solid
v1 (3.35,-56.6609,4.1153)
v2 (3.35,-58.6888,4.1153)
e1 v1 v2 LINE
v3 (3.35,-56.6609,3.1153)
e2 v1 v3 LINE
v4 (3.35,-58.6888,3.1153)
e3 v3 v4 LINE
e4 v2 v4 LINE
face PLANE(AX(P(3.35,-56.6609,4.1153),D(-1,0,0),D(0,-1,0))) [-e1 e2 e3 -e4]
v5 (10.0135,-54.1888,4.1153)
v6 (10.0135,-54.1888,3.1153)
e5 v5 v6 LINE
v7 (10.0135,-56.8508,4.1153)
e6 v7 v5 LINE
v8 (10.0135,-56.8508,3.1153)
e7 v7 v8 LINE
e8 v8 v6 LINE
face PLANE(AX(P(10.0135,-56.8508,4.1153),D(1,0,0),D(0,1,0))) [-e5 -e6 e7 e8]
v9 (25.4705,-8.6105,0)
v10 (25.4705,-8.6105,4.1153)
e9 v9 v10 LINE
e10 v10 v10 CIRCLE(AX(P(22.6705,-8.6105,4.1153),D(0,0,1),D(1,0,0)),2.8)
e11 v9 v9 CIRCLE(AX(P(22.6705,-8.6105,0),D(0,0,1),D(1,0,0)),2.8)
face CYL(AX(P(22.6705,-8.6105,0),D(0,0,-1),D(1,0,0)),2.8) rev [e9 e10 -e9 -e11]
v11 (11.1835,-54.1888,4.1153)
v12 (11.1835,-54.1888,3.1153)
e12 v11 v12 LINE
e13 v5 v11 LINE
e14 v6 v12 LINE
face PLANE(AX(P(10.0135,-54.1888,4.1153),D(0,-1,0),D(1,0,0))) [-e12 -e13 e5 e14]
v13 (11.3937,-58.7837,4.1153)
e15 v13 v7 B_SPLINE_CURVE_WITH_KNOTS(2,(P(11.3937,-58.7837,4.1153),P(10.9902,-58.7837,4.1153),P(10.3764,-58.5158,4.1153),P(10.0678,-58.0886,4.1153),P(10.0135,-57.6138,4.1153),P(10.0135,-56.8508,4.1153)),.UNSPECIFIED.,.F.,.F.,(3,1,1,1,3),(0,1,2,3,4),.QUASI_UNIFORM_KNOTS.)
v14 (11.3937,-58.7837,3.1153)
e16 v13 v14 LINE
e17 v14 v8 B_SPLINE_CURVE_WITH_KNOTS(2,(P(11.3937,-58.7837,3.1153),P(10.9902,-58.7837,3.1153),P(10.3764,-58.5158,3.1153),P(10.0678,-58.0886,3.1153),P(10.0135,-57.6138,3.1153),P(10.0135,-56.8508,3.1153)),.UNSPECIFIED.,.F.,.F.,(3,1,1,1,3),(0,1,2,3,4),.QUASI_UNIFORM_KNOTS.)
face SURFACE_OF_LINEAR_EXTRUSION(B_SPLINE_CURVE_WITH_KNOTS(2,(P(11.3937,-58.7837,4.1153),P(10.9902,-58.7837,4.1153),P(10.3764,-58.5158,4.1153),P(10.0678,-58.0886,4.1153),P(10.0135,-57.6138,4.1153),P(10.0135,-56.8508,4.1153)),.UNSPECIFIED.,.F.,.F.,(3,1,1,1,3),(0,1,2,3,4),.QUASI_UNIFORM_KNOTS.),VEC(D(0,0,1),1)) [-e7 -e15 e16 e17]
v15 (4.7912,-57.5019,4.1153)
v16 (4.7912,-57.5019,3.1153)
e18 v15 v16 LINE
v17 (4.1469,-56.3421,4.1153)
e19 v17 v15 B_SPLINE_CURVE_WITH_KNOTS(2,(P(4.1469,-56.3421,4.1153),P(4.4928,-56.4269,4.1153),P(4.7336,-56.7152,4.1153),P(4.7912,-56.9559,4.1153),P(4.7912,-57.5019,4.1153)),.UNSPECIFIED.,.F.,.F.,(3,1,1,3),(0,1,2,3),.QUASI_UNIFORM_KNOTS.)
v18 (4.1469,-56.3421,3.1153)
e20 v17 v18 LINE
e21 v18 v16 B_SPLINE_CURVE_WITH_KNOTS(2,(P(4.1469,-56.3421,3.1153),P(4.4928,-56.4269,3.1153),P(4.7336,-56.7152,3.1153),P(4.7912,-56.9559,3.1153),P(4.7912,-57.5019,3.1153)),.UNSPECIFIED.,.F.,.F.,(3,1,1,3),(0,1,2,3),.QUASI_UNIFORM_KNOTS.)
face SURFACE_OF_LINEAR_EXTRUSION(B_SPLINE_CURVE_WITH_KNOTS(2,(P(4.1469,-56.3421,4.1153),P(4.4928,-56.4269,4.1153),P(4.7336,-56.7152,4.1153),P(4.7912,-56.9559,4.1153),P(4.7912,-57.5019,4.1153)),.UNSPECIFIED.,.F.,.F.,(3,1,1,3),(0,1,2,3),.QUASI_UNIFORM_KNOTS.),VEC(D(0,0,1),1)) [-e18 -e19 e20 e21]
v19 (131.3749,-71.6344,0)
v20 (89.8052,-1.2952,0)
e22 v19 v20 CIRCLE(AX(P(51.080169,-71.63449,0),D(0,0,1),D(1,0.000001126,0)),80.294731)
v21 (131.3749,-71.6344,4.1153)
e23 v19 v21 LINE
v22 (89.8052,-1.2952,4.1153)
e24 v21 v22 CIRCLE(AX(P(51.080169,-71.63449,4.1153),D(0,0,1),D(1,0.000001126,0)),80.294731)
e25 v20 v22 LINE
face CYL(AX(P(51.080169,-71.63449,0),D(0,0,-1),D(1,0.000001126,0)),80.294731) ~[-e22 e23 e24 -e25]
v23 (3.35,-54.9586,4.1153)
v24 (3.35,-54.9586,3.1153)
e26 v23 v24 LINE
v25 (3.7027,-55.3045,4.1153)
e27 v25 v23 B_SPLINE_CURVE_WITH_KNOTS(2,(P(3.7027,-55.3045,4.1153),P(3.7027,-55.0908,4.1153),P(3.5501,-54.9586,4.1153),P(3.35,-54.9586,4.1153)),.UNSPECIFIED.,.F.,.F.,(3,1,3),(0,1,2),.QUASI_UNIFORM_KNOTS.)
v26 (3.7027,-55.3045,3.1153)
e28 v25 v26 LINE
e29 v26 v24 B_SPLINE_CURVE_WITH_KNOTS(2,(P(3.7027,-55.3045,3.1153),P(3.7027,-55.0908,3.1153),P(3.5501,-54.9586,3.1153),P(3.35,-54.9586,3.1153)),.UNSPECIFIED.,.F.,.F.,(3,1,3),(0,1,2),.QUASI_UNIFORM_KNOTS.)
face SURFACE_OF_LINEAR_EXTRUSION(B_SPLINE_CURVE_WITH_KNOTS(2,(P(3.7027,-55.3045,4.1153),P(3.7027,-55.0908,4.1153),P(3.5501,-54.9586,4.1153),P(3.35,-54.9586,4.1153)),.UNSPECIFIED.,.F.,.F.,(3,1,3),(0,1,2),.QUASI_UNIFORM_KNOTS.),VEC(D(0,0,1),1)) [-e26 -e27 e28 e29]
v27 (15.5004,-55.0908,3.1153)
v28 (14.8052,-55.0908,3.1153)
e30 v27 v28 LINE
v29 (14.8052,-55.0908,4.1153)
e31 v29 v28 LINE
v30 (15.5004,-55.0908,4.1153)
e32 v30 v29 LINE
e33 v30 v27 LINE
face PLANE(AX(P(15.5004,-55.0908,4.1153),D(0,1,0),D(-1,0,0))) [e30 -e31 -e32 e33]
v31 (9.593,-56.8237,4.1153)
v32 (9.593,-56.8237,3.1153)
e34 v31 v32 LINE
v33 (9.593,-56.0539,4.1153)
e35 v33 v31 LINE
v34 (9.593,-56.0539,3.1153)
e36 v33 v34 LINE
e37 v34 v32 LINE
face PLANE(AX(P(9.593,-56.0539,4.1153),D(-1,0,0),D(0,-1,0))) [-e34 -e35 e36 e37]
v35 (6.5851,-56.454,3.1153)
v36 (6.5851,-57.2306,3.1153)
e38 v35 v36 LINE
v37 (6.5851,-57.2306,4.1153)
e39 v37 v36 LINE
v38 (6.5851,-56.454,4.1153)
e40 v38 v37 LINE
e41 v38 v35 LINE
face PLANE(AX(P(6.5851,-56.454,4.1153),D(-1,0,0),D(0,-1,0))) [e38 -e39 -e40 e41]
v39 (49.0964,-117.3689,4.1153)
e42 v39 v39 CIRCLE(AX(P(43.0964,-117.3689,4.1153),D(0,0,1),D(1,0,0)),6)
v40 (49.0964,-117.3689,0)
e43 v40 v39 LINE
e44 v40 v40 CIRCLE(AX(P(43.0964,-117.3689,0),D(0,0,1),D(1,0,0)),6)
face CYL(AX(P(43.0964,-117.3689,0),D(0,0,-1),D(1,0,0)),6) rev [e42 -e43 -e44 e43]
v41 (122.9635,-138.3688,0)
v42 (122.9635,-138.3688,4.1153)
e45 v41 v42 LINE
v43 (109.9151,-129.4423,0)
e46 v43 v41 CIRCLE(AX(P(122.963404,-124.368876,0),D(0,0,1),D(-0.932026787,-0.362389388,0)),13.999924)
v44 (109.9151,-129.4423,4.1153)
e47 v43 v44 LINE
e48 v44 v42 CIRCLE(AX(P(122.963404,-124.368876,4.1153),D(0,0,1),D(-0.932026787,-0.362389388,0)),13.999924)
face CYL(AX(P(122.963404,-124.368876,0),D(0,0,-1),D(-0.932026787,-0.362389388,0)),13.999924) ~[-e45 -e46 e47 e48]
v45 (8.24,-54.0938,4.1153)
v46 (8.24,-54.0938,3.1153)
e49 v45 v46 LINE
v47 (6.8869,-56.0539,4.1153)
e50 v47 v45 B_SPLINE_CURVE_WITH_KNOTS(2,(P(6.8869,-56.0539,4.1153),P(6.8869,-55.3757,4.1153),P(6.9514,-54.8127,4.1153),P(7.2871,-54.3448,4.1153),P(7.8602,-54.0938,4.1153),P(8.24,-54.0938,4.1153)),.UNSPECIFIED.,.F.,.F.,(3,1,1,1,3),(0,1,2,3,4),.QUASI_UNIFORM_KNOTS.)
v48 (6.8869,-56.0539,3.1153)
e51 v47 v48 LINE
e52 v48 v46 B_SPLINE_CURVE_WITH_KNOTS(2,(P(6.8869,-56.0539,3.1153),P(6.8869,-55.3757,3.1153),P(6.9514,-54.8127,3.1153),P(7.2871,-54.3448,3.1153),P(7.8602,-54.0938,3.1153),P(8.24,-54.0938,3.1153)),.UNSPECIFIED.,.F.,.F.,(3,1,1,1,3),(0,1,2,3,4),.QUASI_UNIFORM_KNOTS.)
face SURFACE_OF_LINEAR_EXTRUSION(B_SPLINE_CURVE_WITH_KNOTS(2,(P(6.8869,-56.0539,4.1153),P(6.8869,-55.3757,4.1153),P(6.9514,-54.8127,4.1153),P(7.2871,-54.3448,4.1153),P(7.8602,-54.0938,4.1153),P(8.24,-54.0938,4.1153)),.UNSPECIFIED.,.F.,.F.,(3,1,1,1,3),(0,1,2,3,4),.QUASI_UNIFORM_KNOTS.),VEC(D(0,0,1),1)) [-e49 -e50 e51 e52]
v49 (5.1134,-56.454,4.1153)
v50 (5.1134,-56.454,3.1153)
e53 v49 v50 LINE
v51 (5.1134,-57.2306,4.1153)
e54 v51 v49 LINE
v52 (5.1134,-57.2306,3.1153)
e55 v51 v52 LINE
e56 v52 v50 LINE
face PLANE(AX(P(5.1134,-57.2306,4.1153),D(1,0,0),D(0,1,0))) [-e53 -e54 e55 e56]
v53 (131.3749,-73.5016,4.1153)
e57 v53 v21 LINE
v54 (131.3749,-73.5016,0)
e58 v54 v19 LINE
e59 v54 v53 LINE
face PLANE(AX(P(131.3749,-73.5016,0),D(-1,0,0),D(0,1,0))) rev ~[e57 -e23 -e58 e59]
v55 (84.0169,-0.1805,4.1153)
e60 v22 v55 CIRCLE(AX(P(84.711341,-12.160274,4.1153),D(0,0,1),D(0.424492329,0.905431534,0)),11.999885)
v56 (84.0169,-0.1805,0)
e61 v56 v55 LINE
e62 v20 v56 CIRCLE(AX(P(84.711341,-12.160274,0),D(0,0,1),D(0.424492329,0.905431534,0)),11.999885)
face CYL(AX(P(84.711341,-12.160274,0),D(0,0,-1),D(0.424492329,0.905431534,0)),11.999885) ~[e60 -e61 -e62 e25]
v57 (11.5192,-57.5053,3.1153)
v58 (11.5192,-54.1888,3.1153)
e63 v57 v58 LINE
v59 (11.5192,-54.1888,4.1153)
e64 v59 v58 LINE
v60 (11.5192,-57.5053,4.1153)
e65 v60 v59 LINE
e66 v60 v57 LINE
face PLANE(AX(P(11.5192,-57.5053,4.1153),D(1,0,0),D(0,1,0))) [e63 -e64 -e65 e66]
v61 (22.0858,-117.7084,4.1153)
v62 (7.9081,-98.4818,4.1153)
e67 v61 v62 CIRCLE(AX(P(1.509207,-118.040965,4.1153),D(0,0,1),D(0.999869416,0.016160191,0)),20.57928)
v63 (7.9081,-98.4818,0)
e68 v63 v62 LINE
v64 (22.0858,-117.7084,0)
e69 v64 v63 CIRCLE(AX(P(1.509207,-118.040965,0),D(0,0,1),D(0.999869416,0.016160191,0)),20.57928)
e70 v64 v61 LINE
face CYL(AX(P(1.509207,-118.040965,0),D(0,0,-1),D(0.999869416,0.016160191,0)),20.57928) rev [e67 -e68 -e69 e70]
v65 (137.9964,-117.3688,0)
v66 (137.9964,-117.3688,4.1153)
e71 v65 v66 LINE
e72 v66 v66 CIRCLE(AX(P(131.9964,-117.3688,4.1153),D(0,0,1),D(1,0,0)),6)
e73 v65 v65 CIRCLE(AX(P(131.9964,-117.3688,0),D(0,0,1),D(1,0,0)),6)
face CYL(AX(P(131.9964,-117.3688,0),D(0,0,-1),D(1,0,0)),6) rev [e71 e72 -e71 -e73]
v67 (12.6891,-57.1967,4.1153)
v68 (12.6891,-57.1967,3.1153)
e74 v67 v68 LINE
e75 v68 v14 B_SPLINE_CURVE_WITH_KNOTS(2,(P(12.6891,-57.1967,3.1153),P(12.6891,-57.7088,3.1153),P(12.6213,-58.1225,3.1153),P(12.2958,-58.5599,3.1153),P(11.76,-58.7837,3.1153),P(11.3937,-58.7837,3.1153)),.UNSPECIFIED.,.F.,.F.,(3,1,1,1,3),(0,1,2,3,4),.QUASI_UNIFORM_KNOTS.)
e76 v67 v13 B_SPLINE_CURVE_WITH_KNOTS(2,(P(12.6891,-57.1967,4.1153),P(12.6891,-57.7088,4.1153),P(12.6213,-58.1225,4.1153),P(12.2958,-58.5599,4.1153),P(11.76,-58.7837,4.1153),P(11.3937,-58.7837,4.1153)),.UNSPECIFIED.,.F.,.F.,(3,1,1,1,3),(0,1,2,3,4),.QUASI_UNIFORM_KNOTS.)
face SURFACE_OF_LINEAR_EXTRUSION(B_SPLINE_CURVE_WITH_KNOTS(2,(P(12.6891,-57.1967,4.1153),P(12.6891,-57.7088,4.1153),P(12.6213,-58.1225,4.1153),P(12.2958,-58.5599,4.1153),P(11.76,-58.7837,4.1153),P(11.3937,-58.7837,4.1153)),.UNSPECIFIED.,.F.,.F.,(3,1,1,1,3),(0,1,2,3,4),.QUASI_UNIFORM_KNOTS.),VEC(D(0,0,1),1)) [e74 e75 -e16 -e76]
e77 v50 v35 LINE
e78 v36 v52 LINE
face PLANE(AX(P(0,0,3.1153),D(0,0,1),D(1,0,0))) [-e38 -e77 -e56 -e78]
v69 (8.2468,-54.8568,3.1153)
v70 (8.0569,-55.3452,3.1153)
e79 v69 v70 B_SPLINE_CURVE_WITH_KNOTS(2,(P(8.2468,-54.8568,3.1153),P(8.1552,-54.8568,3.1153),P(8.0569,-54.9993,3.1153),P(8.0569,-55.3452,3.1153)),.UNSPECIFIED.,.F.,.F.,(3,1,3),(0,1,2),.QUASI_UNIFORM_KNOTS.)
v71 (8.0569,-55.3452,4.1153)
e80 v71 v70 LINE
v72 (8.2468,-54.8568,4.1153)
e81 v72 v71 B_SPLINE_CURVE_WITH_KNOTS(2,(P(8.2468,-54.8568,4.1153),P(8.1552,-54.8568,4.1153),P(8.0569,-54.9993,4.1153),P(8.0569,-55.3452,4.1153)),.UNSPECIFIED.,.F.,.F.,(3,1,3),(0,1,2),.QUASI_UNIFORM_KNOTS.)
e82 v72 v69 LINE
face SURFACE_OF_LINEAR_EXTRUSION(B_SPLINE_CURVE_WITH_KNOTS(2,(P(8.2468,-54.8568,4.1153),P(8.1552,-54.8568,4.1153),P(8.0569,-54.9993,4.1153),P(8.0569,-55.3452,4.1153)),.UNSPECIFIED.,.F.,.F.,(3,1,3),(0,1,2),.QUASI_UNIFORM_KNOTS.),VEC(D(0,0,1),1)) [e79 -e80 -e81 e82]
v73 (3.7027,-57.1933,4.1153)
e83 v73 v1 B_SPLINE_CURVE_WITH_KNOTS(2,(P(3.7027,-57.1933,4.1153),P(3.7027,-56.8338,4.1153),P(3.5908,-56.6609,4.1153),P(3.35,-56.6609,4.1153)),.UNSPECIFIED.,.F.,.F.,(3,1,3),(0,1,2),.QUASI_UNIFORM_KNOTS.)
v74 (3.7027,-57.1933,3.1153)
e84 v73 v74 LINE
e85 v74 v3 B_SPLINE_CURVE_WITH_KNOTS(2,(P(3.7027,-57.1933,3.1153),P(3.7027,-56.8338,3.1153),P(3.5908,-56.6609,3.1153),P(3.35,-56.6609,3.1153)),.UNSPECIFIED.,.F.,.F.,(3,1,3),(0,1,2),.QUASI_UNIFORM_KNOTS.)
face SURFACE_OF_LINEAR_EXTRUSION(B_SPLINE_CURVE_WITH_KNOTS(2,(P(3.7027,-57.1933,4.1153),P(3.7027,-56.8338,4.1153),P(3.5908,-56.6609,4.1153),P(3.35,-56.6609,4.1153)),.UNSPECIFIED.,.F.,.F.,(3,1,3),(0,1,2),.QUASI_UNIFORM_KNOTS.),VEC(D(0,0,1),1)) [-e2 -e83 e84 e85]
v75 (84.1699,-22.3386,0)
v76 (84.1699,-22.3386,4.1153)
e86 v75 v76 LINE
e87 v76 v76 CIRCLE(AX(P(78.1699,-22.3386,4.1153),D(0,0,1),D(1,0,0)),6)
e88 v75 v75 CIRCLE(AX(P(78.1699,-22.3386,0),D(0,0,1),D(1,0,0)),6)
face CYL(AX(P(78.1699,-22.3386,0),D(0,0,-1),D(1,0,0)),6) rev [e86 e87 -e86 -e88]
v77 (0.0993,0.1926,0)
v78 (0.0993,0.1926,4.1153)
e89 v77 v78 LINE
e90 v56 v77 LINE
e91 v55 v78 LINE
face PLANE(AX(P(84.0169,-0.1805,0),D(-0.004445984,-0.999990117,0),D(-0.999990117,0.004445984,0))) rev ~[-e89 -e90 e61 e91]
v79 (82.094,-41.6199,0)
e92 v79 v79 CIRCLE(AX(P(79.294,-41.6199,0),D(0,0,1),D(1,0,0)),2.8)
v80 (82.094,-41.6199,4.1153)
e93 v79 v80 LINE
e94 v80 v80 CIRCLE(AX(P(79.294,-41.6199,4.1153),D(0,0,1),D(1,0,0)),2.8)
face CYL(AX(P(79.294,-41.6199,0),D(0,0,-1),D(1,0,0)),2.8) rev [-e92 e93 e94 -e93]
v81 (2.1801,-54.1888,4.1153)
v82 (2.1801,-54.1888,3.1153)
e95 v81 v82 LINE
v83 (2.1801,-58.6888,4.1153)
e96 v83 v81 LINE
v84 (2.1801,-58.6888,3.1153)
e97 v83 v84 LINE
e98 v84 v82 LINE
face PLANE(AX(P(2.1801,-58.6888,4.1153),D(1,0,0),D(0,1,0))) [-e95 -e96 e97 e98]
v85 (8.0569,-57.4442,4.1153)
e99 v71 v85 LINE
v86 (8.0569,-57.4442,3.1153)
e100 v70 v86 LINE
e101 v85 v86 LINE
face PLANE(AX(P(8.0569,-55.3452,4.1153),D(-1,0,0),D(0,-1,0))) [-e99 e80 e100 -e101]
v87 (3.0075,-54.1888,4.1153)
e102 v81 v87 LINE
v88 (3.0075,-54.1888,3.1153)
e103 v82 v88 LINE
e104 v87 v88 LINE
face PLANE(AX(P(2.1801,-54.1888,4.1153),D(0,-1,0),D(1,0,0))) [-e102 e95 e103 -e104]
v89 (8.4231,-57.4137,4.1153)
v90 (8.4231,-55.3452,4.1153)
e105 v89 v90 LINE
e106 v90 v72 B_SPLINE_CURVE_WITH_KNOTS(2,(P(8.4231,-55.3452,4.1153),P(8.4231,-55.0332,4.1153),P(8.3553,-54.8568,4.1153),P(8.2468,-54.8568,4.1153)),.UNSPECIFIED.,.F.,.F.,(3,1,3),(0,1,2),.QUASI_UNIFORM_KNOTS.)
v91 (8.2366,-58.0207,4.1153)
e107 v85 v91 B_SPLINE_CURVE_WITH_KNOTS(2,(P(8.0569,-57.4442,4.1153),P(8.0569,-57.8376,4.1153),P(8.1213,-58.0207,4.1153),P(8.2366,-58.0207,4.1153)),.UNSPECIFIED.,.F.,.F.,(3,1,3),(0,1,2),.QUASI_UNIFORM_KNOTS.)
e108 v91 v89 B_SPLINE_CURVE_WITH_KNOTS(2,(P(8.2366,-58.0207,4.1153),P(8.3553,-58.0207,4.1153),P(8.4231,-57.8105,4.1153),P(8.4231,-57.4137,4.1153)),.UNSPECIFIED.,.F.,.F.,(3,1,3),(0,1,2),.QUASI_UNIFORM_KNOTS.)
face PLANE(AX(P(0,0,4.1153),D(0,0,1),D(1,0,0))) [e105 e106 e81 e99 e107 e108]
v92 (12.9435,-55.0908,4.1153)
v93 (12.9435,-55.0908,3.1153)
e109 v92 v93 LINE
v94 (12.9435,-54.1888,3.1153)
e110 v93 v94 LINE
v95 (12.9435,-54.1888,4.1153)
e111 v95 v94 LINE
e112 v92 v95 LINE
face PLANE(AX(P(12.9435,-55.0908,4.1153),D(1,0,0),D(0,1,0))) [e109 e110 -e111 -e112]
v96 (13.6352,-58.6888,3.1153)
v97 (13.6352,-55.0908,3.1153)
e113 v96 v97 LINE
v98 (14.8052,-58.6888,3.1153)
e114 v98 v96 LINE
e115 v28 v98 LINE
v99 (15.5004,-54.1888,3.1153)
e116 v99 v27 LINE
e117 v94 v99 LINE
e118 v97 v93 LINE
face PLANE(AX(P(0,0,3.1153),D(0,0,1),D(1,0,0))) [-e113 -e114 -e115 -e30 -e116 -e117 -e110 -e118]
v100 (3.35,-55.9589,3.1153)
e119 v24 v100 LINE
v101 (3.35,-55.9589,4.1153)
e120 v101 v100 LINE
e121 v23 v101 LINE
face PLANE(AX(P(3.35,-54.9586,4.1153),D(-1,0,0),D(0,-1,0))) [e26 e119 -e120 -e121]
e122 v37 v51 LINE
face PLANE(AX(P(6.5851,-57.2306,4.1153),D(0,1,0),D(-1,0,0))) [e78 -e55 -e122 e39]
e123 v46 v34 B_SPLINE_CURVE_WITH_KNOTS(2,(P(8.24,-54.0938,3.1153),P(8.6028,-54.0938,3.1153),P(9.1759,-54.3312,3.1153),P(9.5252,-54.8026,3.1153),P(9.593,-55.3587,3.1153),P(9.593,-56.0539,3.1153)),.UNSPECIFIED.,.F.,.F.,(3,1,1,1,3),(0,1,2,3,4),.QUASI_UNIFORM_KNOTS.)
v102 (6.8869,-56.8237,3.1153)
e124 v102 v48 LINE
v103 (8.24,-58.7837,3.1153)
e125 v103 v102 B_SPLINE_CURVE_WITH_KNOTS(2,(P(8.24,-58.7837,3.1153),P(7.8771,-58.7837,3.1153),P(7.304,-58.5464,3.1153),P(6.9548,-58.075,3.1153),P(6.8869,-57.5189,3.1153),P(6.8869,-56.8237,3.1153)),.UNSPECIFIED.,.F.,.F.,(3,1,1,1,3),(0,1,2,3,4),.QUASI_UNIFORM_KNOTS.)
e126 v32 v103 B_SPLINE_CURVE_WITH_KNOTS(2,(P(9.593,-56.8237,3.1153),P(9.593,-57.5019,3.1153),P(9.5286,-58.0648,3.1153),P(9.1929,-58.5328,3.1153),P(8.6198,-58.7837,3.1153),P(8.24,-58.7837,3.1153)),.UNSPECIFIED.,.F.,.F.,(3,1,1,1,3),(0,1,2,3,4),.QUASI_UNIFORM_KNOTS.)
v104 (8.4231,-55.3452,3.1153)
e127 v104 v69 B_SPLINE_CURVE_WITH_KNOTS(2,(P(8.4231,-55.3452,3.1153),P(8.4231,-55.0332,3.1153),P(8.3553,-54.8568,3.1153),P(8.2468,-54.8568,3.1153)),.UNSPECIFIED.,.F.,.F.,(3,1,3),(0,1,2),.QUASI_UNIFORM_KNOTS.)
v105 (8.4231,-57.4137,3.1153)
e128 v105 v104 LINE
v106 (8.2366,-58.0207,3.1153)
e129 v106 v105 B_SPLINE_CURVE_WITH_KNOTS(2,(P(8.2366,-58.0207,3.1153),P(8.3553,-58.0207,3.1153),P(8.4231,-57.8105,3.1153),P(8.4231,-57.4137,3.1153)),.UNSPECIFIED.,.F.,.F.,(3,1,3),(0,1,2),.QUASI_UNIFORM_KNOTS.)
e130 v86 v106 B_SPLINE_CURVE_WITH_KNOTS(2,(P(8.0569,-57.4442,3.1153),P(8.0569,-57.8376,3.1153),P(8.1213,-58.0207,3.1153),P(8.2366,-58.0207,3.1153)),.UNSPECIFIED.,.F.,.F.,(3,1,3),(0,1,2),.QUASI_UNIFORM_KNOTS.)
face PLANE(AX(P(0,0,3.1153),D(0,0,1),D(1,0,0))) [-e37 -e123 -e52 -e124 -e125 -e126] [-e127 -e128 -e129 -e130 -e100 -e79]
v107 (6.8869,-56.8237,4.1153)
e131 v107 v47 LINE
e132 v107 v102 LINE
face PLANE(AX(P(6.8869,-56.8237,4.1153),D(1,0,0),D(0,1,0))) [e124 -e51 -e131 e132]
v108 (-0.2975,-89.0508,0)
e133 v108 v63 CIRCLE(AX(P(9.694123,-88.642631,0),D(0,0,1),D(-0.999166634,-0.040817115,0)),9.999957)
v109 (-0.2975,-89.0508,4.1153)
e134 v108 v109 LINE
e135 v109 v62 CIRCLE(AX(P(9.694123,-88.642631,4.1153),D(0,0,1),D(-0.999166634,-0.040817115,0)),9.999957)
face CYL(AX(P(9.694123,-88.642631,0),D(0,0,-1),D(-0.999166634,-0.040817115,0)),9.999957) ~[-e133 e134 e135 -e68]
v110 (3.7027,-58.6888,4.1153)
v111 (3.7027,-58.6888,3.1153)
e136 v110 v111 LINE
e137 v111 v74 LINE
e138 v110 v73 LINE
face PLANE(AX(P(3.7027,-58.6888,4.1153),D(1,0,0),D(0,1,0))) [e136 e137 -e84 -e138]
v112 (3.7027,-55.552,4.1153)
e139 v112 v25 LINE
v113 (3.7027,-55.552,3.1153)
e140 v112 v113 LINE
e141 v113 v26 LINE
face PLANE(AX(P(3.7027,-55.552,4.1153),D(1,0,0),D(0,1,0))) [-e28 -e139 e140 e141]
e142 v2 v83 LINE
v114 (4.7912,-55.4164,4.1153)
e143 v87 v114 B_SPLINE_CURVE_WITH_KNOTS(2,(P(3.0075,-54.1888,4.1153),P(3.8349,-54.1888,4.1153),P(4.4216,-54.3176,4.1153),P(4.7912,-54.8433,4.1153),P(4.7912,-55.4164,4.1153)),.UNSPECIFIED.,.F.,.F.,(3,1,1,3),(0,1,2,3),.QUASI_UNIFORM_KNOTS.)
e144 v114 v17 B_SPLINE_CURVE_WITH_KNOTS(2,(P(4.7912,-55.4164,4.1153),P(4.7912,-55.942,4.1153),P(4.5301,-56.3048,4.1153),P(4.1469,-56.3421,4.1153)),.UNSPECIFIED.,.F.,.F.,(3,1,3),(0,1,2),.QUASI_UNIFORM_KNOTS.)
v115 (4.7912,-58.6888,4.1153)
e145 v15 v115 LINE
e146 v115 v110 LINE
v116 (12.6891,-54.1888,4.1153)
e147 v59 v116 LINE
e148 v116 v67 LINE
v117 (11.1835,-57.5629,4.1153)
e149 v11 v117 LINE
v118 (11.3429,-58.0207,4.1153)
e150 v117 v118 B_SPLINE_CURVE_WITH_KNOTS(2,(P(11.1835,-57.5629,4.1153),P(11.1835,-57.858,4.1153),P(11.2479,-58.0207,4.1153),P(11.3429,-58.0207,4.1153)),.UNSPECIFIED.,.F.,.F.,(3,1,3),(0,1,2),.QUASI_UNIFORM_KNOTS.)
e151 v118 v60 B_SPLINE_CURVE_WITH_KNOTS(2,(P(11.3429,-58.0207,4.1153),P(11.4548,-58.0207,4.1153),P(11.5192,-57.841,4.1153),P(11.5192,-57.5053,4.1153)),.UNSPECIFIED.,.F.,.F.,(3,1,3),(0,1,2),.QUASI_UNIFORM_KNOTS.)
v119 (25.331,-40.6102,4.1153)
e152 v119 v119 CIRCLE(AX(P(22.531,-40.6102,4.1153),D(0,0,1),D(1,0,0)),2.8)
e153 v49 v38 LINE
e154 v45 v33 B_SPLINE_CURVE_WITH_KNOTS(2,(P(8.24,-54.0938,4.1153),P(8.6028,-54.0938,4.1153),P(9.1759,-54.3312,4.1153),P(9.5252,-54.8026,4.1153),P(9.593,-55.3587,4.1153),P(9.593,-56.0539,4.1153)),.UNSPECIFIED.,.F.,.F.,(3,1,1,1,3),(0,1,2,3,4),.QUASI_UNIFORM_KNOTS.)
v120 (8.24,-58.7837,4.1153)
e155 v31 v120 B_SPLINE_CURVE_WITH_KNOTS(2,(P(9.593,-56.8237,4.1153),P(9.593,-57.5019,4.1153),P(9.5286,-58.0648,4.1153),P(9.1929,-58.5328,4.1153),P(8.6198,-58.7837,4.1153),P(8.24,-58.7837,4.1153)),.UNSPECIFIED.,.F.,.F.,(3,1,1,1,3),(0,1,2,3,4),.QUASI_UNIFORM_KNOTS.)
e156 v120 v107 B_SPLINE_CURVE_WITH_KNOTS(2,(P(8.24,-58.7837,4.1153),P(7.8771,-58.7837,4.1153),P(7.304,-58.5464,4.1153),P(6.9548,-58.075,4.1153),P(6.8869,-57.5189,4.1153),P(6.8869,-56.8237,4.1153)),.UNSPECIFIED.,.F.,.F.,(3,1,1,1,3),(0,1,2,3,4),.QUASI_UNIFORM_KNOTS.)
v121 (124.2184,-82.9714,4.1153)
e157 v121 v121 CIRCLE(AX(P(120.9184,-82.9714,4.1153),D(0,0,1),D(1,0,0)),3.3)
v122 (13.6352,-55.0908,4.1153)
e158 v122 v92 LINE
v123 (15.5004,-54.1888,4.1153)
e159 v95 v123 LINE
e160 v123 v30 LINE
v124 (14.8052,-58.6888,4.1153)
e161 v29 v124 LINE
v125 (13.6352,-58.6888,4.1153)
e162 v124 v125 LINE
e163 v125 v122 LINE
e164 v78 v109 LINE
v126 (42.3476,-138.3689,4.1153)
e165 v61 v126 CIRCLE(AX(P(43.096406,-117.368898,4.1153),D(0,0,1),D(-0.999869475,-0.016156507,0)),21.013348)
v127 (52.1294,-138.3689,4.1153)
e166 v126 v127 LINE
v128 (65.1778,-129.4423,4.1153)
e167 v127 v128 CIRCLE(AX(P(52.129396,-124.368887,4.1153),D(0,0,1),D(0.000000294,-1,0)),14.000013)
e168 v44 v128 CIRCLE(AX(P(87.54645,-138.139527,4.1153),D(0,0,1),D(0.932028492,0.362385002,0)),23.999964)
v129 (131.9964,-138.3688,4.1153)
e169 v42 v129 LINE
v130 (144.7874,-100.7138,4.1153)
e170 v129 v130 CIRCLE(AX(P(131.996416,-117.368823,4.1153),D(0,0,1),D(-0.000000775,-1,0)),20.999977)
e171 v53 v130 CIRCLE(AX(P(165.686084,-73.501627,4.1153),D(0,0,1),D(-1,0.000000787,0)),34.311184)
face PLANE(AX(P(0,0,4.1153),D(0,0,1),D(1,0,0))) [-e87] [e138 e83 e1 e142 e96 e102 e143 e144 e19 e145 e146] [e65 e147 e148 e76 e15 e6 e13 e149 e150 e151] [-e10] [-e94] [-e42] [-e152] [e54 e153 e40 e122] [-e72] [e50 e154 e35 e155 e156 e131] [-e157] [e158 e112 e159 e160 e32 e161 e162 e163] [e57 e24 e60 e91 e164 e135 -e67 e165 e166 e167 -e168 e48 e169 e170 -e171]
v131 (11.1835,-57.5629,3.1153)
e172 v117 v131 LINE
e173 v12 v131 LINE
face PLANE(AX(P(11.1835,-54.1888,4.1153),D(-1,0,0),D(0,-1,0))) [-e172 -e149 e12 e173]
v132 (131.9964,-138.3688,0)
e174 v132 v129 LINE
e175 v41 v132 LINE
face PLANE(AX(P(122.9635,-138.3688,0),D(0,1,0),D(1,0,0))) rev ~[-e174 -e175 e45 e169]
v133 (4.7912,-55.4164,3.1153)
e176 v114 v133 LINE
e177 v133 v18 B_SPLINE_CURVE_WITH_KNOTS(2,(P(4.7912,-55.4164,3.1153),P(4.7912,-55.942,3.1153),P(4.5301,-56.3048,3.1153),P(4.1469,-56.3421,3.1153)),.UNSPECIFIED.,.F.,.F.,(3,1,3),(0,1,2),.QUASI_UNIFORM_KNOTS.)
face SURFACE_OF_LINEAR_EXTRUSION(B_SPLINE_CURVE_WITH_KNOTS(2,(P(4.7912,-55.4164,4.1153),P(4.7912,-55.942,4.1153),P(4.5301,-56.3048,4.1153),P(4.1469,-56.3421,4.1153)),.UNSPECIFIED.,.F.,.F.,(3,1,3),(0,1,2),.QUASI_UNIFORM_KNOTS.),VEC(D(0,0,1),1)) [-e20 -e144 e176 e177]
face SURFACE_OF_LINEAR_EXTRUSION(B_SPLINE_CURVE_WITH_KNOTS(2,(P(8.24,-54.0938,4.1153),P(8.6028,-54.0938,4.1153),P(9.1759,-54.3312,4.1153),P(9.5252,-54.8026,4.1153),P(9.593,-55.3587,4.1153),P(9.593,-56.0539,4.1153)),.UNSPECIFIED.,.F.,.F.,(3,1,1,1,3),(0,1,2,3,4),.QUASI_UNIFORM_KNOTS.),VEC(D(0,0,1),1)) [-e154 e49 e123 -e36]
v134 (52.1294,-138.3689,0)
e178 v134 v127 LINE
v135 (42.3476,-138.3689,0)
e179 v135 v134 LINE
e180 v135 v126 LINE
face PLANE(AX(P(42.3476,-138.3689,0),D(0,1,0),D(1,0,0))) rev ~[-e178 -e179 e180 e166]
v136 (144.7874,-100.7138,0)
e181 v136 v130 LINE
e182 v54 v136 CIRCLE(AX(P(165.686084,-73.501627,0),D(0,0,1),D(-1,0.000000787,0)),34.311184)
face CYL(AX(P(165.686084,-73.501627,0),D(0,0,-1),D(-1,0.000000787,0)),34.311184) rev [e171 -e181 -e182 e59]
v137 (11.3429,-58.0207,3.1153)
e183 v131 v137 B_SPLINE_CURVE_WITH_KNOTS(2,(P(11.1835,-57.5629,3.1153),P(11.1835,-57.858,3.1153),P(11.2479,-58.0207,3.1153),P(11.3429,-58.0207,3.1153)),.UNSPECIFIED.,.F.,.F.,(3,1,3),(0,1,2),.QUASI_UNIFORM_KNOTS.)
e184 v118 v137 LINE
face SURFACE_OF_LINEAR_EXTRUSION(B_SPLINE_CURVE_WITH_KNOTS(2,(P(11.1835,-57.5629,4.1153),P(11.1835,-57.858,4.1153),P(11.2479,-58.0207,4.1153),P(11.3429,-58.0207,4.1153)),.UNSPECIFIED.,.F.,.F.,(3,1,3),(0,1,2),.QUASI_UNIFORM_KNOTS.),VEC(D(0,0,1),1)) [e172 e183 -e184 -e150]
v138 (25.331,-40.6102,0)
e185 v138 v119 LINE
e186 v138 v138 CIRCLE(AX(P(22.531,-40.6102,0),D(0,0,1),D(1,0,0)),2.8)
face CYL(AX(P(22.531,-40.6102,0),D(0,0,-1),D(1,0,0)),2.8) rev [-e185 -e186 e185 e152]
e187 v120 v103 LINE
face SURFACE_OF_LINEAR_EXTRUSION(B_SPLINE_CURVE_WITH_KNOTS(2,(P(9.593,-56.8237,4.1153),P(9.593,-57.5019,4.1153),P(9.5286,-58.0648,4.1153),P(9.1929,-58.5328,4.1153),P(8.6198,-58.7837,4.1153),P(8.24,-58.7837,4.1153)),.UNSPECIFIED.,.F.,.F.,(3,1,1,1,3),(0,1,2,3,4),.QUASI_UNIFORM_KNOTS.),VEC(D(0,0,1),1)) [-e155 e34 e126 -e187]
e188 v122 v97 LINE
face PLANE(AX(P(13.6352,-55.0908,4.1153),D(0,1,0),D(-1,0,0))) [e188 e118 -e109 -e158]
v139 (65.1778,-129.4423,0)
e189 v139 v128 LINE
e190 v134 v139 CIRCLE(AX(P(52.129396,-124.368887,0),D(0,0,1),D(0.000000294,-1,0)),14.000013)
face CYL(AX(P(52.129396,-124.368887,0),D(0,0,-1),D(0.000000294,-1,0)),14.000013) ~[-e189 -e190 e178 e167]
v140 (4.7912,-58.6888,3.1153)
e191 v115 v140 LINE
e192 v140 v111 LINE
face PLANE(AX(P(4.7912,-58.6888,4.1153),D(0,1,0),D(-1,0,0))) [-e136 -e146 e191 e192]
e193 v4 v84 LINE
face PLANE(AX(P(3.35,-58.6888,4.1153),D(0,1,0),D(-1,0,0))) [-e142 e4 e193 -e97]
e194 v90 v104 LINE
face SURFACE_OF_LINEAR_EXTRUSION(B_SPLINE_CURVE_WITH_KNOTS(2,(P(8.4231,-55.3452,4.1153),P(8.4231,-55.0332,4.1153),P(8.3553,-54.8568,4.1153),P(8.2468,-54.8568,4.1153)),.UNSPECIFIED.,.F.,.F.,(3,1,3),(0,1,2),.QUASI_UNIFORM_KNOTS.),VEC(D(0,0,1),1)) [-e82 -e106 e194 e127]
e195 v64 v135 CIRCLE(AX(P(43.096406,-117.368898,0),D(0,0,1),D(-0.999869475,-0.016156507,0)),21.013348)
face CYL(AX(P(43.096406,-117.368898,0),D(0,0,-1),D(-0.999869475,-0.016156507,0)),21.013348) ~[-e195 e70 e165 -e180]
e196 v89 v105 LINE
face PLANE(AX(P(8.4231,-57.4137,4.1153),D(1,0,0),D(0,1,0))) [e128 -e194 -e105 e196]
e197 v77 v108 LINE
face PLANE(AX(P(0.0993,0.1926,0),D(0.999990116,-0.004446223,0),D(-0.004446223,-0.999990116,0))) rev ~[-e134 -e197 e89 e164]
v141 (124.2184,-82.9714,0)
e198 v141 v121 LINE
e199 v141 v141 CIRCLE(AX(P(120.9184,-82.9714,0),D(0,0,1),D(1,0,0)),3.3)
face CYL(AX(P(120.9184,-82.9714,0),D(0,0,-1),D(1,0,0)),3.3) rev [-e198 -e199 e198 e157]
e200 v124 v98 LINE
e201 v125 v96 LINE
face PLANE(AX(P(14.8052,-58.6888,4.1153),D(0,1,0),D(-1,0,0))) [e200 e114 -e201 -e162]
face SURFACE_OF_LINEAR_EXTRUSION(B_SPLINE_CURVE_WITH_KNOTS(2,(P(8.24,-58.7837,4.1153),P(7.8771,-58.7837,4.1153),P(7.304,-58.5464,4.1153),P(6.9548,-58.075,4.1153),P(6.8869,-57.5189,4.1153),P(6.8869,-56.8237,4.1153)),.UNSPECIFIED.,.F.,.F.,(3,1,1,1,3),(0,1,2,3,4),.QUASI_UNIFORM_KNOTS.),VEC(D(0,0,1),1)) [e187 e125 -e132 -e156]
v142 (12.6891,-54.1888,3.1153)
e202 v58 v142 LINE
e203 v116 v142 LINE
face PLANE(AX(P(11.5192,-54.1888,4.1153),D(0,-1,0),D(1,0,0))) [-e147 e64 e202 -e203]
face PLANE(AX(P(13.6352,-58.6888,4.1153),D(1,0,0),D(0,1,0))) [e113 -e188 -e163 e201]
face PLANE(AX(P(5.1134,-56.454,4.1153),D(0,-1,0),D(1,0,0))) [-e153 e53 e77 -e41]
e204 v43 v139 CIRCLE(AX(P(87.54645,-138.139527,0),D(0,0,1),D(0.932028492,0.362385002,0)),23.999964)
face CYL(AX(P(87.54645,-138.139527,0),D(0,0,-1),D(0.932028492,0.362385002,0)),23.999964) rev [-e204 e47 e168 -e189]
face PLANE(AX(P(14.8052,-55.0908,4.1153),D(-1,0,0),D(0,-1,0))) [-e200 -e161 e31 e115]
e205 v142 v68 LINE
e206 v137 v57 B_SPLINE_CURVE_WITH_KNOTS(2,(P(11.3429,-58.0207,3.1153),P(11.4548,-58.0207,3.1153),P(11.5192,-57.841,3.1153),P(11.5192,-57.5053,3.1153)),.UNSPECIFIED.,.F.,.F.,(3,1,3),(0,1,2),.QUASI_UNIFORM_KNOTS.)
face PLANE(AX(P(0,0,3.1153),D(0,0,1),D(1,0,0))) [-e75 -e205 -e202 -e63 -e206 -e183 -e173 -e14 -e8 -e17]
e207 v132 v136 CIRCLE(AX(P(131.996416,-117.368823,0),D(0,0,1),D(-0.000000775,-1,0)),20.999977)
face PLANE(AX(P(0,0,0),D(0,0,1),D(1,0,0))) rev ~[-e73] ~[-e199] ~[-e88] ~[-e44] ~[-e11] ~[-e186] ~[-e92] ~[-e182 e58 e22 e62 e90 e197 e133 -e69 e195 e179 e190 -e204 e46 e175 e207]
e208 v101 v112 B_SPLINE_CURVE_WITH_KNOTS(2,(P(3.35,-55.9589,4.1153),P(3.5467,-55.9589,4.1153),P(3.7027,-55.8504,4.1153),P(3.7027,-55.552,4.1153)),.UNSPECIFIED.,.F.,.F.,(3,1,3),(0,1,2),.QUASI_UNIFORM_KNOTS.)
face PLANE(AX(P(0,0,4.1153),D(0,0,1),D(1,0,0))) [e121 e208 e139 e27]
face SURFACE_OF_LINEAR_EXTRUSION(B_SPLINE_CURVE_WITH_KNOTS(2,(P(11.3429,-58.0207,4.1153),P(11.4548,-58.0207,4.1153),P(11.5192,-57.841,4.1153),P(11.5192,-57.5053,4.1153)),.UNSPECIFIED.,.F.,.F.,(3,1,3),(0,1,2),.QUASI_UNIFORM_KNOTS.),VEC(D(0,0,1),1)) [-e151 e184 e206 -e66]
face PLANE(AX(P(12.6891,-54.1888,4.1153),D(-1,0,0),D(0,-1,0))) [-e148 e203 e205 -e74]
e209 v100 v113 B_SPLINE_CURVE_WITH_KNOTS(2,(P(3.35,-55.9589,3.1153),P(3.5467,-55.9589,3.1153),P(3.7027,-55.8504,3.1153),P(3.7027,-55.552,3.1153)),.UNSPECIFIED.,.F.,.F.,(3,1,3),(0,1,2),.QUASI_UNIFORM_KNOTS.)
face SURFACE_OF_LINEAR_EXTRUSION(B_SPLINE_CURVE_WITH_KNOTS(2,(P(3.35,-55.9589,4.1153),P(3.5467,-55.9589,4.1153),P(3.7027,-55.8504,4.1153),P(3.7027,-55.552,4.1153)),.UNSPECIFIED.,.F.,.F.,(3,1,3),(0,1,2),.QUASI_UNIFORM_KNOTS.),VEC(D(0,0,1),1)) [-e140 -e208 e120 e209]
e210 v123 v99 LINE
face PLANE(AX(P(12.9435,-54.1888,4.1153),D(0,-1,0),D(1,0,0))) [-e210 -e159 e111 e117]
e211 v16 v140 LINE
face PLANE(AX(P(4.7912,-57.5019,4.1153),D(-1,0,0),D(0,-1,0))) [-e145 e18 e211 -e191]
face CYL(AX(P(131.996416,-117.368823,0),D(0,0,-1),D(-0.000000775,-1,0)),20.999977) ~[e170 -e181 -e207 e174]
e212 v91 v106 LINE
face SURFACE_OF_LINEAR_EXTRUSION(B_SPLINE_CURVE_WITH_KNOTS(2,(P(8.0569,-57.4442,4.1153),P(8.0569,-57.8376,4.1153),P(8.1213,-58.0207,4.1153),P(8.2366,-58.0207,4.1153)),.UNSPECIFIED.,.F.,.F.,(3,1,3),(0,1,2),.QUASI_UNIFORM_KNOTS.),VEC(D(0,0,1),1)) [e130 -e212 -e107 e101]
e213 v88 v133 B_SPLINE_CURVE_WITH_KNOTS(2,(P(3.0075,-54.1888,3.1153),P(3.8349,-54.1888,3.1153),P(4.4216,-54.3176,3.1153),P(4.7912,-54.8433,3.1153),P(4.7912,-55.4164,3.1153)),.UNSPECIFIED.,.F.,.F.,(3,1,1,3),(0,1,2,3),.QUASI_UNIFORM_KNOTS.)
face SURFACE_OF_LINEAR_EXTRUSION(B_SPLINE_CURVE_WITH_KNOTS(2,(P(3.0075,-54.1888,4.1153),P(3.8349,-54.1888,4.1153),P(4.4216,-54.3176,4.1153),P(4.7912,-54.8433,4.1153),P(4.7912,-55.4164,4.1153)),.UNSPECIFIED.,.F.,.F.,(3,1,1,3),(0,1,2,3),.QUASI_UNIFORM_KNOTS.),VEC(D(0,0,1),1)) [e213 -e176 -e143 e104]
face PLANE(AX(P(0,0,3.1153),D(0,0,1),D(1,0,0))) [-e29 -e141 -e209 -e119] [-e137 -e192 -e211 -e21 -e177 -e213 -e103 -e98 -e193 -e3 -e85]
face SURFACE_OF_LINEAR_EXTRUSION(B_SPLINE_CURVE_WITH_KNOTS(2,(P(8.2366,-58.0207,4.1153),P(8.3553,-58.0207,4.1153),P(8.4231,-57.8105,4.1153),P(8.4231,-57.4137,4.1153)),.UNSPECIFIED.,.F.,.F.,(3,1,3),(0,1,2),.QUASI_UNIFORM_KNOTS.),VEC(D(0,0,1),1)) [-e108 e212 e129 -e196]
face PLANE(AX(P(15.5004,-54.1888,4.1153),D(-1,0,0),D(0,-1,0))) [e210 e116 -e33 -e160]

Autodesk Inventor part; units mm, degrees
ref_plane "YZ Plane" through (0, 0, 0) normal (1, 0, 0) x (0, 1, 0)
ref_plane "XZ Plane" through (0, 0, 0) normal (0, 1, 0) x (-1, 0, 0)
ref_plane "XY Plane" through (0, 0, 0) normal (0, 0, 1) x (1, 0, 0)
sketch "Sketch1" plane through (0, 0, 0) normal (0, 0, 1) x (1, 0, 0)
  line L0 (131.3749, -73.5016) -> (131.3749, -71.6344)
  arc A0 (131.3749, -71.6344) -> (89.8052, -1.2952) centre (51.0805, -71.6344) ccw
  arc A1 (89.8052, -1.2952) -> (84.0169, -0.1805) centre (84.7113, -12.1604) ccw
  line L1 (84.0169, -0.1805) -> (0.0993, 0.1926)
  line L2 (0.0993, 0.1926) -> (-0.2975, -89.0508)
  arc A2 (-0.2975, -89.0508) -> (7.9081, -98.4818) centre (9.6942, -88.6426) ccw
  circle A3 centre (120.9184, -82.9714) radius 3.3
  arc A4 (145.7873, -114.287) -> (148.0883, -110.4202) centre (146.9636, -112.3689) ccw
  arc A5 (145.7873, -124.287) -> (148.0882, -120.4202) centre (146.9636, -122.3689) ccw
  circle A6 centre (22.531, -40.6102) radius 2.8
  circle A7 centre (28.6758, -122.3689) radius 2.25
  circle A8 centre (28.6758, -112.3689) radius 2.25
  circle A9 centre (10, -88.6441) radius 3.3
  arc A10 (32.2446, -127.2916) -> (33.2446, -128.2916) centre (33.2446, -127.2916) ccw
  line L3 (32.2446, -127.2916) -> (32.2446, -107.4916)
  arc A11 (33.2446, -106.4916) -> (32.2446, -107.4916) centre (33.2446, -107.4916) ccw
  arc A12 (142.8483, -107.4916) -> (141.8483, -106.4916) centre (141.8483, -107.4916) ccw
  line L4 (142.8483, -107.4916) -> (142.8483, -127.2916)
  arc A13 (141.8483, -128.2916) -> (142.8483, -127.2916) centre (141.8483, -127.2916) ccw
  circle A14 centre (146.9636, -112.3689) radius 2.25
  circle A15 centre (146.9636, -122.3689) radius 2.25
  circle A16 centre (43.0964, -117.3689) radius 6
  circle A17 centre (131.9964, -117.3688) radius 6
  circle A18 centre (78.1699, -22.3386) radius 3.25
  circle A19 centre (78.1699, -22.3386) radius 6
  arc A20 (131.9964, -138.3688) -> (144.7874, -100.7138) centre (131.9964, -117.3688) ccw
  arc A21 (22.0858, -117.7084) -> (7.9081, -98.4818) centre (1.5094, -118.0409) ccw
  arc A22 (131.3749, -73.5016) -> (144.7874, -100.7138) centre (165.6862, -73.5016) ccw
  arc A23 (22.0858, -117.7084) -> (42.3476, -138.3689) centre (43.0964, -117.3689) ccw
  arc A24 (109.9151, -129.4423) -> (65.1778, -129.4423) centre (87.5464, -138.1396) ccw
  line L5 (42.3476, -138.3689) -> (52.1294, -138.3689)
  line L6 (122.9635, -138.3688) -> (131.9964, -138.3688)
  arc A25 (52.1294, -138.3689) -> (65.1778, -129.4423) centre (52.1294, -124.3689) ccw
  arc A26 (109.9151, -129.4423) -> (122.9635, -138.3688) centre (122.9635, -124.3688) ccw
  circle A27 centre (43.0964, -117.3689) radius 4.6 projected
  line L7 (1.9461, -54.0938) -> (33.2975, -54.0938) construction
  line L8 (33.2975, -54.0938) -> (33.2975, -61.1615) construction
  line L9 (33.2975, -61.1615) -> (1.9461, -61.1615) construction
  line L10 (1.9461, -61.1615) -> (1.9461, -54.0938) construction
  circle A28 centre (79.294, -41.6199) radius 2.8
  circle A29 centre (78.1699, -22.3386) radius 6
  circle A30 centre (22.531, -40.6102) radius 2.8
  circle A31 centre (22.6705, -8.6105) radius 2.8
  circle A32 centre (22.6705, -8.6105) radius 2.8
  circle A33 centre (120.9184, -82.9714) radius 3.3
  line L11 (2.1801, -54.1888) -> (3.0075, -54.1888)
  spline S0 degree 2 poles (3.0075, -54.1888) (3.8349, -54.1888) (4.4216, -54.3176) (4.7912, -54.8433) (4.7912, -55.4164) knots 0 0 0 1 2 3 3 3
  spline S1 degree 2 poles (4.7912, -55.4164) (4.7912, -55.942) (4.5301, -56.3048) (4.1469, -56.3421) knots 0 0 0 1 2 2 2
  spline S2 degree 2 poles (4.1469, -56.3421) (4.4928, -56.4269) (4.7336, -56.7152) (4.7912, -56.9559) (4.7912, -57.5019) knots 0 0 0 1 2 3 3 3
  line L12 (4.7912, -57.5019) -> (4.7912, -58.6888)
  line L13 (4.7912, -58.6888) -> (3.7027, -58.6888)
  line L14 (3.7027, -58.6888) -> (3.7027, -57.1933)
  spline S3 degree 2 poles (3.7027, -57.1933) (3.7027, -56.8338) (3.5908, -56.6609) (3.35, -56.6609) knots 0 0 0 1 2 2 2
  line L15 (3.35, -56.6609) -> (3.35, -58.6888)
  line L16 (3.35, -58.6888) -> (2.1801, -58.6888)
  line L17 (2.1801, -58.6888) -> (2.1801, -54.1888)
  line L18 (3.35, -54.9586) -> (3.35, -55.9589)
  spline S4 degree 2 poles (3.35, -55.9589) (3.5467, -55.9589) (3.7027, -55.8504) (3.7027, -55.552) knots 0 0 0 1 2 2 2
  line L19 (3.7027, -55.552) -> (3.7027, -55.3045)
  spline S5 degree 2 poles (3.7027, -55.3045) (3.7027, -55.0908) (3.5501, -54.9586) (3.35, -54.9586) knots 0 0 0 1 2 2 2
  line L20 (6.5851, -56.454) -> (6.5851, -57.2306)
  line L21 (6.5851, -57.2306) -> (5.1134, -57.2306)
  line L22 (5.1134, -57.2306) -> (5.1134, -56.454)
  line L23 (5.1134, -56.454) -> (6.5851, -56.454)
  spline S6 degree 2 poles (9.593, -56.8237) (9.593, -57.5019) (9.5286, -58.0648) (9.1929, -58.5328) (8.6198, -58.7837) (8.24, -58.7837) knots 0 0 0 1 2 3 4 4 4
  spline S7 degree 2 poles (8.24, -58.7837) (7.8771, -58.7837) (7.304, -58.5464) (6.9548, -58.075) (6.8869, -57.5189) (6.8869, -56.8237) knots 0 0 0 1 2 3 4 4 4
  line L24 (6.8869, -56.8237) -> (6.8869, -56.0539)
  spline S8 degree 2 poles (6.8869, -56.0539) (6.8869, -55.3757) (6.9514, -54.8127) (7.2871, -54.3448) (7.8602, -54.0938) (8.24, -54.0938) knots 0 0 0 1 2 3 4 4 4
  spline S9 degree 2 poles (8.24, -54.0938) (8.6028, -54.0938) (9.1759, -54.3312) (9.5252, -54.8026) (9.593, -55.3587) (9.593, -56.0539) knots 0 0 0 1 2 3 4 4 4
  line L25 (9.593, -56.0539) -> (9.593, -56.8237)
  spline S10 degree 2 poles (8.4231, -55.3452) (8.4231, -55.0332) (8.3553, -54.8568) (8.2468, -54.8568) knots 0 0 0 1 2 2 2
  spline S11 degree 2 poles (8.2468, -54.8568) (8.1552, -54.8568) (8.0569, -54.9993) (8.0569, -55.3452) knots 0 0 0 1 2 2 2
  line L26 (8.0569, -55.3452) -> (8.0569, -57.4442)
  spline S12 degree 2 poles (8.0569, -57.4442) (8.0569, -57.8376) (8.1213, -58.0207) (8.2366, -58.0207) knots 0 0 0 1 2 2 2
  spline S13 degree 2 poles (8.2366, -58.0207) (8.3553, -58.0207) (8.4231, -57.8105) (8.4231, -57.4137) knots 0 0 0 1 2 2 2
  line L27 (8.4231, -57.4137) -> (8.4231, -55.3452)
  line L28 (12.6891, -54.1888) -> (12.6891, -57.1967)
  spline S14 degree 2 poles (12.6891, -57.1967) (12.6891, -57.7088) (12.6213, -58.1225) (12.2958, -58.5599) (11.76, -58.7837) (11.3937, -58.7837) knots 0 0 0 1 2 3 4 4 4
  spline S15 degree 2 poles (11.3937, -58.7837) (10.9902, -58.7837) (10.3764, -58.5158) (10.0678, -58.0886) (10.0135, -57.6138) (10.0135, -56.8508) knots 0 0 0 1 2 3 4 4 4
  line L29 (10.0135, -56.8508) -> (10.0135, -54.1888)
  line L30 (10.0135, -54.1888) -> (11.1835, -54.1888)
  line L31 (11.1835, -54.1888) -> (11.1835, -57.5629)
  spline S16 degree 2 poles (11.1835, -57.5629) (11.1835, -57.858) (11.2479, -58.0207) (11.3429, -58.0207) knots 0 0 0 1 2 2 2
  spline S17 degree 2 poles (11.3429, -58.0207) (11.4548, -58.0207) (11.5192, -57.841) (11.5192, -57.5053) knots 0 0 0 1 2 2 2
  line L32 (11.5192, -57.5053) -> (11.5192, -54.1888)
  line L33 (11.5192, -54.1888) -> (12.6891, -54.1888)
  line L34 (15.5004, -54.1888) -> (15.5004, -55.0908)
  line L35 (15.5004, -55.0908) -> (14.8052, -55.0908)
  line L36 (14.8052, -55.0908) -> (14.8052, -58.6888)
  line L37 (14.8052, -58.6888) -> (13.6352, -58.6888)
  line L38 (13.6352, -58.6888) -> (13.6352, -55.0908)
  line L39 (13.6352, -55.0908) -> (12.9435, -55.0908)
  line L40 (12.9435, -55.0908) -> (12.9435, -54.1888)
  line L41 (12.9435, -54.1888) -> (15.5004, -54.1888)
  point P0 (0, 0)
  point P1 (58.8546, -117.3689)
  point P2 (63.5475, -138.3689)
  point P3 (111.5453, -138.3689)
  dimension "d6" = 10
  dimension "d7" = 12
  dimension "d10" = 88.9
  dimension "d11" = 42
  dimension "d13" = 10.8518
  dimension "d14" = 10.8518
  dimension "d16" = 4.1153
  dimension "d17" = 4.1153
  dimension "d18" = 48
  dimension "d19" = 14
  dimension "d20" = 44.45
  dimension "d23" = 5.6
  dimension "d25" = 56.763
  dimension "d26" = 19.314
  dimension "d27" = 78.17
extrude "Extrusion1" add sketch "Sketch1" along normal blind 4.1153 contours A22 A20 L6 A26 A24 A25 L5 A23 A21 A2 L2 L1 A1 A0 L0 | A14 A4 | A15 A5 | A7 | A8 | A9 | L11 S0 S1 S2 L12 L13 L14 S3 L15 L16 L17 | S5 L19 S4 L18 | L20 L21 L22 L23 | S6 S7 L24 S8 S9 L25 | L27 S13 S12 L26 S11 S10 | L28 S14 S15 L29 L30 L31 S16 S17 L32 L33 | L34 L35 L36 L37 L38 L39 L40 L41
extrude "Extrusion2" cut sketch "Sketch1" against normal blind 1 from surface at 4.1153 contours L11 S0 S1 S2 L12 L13 L14 S3 L15 L16 L17 | L20 L21 L22 L23 | S6 S7 L24 S8 S9 L25 | L28 S14 S15 L29 L30 L31 S16 S17 L32 L33 | L34 L35 L36 L37 L38 L39 L40 L41
equation "\"d14\" = d13"
equation "\"d16\" = d15"
equation "\"d17\" = d15"
equation "\"d20\" = 0.5 * d10"
equation "\"d0\" = d16"
equation "\"d15\" = 4.115311"
properties part number "Intake Sides V6ipt" material "Polycarbonate, Clear"
